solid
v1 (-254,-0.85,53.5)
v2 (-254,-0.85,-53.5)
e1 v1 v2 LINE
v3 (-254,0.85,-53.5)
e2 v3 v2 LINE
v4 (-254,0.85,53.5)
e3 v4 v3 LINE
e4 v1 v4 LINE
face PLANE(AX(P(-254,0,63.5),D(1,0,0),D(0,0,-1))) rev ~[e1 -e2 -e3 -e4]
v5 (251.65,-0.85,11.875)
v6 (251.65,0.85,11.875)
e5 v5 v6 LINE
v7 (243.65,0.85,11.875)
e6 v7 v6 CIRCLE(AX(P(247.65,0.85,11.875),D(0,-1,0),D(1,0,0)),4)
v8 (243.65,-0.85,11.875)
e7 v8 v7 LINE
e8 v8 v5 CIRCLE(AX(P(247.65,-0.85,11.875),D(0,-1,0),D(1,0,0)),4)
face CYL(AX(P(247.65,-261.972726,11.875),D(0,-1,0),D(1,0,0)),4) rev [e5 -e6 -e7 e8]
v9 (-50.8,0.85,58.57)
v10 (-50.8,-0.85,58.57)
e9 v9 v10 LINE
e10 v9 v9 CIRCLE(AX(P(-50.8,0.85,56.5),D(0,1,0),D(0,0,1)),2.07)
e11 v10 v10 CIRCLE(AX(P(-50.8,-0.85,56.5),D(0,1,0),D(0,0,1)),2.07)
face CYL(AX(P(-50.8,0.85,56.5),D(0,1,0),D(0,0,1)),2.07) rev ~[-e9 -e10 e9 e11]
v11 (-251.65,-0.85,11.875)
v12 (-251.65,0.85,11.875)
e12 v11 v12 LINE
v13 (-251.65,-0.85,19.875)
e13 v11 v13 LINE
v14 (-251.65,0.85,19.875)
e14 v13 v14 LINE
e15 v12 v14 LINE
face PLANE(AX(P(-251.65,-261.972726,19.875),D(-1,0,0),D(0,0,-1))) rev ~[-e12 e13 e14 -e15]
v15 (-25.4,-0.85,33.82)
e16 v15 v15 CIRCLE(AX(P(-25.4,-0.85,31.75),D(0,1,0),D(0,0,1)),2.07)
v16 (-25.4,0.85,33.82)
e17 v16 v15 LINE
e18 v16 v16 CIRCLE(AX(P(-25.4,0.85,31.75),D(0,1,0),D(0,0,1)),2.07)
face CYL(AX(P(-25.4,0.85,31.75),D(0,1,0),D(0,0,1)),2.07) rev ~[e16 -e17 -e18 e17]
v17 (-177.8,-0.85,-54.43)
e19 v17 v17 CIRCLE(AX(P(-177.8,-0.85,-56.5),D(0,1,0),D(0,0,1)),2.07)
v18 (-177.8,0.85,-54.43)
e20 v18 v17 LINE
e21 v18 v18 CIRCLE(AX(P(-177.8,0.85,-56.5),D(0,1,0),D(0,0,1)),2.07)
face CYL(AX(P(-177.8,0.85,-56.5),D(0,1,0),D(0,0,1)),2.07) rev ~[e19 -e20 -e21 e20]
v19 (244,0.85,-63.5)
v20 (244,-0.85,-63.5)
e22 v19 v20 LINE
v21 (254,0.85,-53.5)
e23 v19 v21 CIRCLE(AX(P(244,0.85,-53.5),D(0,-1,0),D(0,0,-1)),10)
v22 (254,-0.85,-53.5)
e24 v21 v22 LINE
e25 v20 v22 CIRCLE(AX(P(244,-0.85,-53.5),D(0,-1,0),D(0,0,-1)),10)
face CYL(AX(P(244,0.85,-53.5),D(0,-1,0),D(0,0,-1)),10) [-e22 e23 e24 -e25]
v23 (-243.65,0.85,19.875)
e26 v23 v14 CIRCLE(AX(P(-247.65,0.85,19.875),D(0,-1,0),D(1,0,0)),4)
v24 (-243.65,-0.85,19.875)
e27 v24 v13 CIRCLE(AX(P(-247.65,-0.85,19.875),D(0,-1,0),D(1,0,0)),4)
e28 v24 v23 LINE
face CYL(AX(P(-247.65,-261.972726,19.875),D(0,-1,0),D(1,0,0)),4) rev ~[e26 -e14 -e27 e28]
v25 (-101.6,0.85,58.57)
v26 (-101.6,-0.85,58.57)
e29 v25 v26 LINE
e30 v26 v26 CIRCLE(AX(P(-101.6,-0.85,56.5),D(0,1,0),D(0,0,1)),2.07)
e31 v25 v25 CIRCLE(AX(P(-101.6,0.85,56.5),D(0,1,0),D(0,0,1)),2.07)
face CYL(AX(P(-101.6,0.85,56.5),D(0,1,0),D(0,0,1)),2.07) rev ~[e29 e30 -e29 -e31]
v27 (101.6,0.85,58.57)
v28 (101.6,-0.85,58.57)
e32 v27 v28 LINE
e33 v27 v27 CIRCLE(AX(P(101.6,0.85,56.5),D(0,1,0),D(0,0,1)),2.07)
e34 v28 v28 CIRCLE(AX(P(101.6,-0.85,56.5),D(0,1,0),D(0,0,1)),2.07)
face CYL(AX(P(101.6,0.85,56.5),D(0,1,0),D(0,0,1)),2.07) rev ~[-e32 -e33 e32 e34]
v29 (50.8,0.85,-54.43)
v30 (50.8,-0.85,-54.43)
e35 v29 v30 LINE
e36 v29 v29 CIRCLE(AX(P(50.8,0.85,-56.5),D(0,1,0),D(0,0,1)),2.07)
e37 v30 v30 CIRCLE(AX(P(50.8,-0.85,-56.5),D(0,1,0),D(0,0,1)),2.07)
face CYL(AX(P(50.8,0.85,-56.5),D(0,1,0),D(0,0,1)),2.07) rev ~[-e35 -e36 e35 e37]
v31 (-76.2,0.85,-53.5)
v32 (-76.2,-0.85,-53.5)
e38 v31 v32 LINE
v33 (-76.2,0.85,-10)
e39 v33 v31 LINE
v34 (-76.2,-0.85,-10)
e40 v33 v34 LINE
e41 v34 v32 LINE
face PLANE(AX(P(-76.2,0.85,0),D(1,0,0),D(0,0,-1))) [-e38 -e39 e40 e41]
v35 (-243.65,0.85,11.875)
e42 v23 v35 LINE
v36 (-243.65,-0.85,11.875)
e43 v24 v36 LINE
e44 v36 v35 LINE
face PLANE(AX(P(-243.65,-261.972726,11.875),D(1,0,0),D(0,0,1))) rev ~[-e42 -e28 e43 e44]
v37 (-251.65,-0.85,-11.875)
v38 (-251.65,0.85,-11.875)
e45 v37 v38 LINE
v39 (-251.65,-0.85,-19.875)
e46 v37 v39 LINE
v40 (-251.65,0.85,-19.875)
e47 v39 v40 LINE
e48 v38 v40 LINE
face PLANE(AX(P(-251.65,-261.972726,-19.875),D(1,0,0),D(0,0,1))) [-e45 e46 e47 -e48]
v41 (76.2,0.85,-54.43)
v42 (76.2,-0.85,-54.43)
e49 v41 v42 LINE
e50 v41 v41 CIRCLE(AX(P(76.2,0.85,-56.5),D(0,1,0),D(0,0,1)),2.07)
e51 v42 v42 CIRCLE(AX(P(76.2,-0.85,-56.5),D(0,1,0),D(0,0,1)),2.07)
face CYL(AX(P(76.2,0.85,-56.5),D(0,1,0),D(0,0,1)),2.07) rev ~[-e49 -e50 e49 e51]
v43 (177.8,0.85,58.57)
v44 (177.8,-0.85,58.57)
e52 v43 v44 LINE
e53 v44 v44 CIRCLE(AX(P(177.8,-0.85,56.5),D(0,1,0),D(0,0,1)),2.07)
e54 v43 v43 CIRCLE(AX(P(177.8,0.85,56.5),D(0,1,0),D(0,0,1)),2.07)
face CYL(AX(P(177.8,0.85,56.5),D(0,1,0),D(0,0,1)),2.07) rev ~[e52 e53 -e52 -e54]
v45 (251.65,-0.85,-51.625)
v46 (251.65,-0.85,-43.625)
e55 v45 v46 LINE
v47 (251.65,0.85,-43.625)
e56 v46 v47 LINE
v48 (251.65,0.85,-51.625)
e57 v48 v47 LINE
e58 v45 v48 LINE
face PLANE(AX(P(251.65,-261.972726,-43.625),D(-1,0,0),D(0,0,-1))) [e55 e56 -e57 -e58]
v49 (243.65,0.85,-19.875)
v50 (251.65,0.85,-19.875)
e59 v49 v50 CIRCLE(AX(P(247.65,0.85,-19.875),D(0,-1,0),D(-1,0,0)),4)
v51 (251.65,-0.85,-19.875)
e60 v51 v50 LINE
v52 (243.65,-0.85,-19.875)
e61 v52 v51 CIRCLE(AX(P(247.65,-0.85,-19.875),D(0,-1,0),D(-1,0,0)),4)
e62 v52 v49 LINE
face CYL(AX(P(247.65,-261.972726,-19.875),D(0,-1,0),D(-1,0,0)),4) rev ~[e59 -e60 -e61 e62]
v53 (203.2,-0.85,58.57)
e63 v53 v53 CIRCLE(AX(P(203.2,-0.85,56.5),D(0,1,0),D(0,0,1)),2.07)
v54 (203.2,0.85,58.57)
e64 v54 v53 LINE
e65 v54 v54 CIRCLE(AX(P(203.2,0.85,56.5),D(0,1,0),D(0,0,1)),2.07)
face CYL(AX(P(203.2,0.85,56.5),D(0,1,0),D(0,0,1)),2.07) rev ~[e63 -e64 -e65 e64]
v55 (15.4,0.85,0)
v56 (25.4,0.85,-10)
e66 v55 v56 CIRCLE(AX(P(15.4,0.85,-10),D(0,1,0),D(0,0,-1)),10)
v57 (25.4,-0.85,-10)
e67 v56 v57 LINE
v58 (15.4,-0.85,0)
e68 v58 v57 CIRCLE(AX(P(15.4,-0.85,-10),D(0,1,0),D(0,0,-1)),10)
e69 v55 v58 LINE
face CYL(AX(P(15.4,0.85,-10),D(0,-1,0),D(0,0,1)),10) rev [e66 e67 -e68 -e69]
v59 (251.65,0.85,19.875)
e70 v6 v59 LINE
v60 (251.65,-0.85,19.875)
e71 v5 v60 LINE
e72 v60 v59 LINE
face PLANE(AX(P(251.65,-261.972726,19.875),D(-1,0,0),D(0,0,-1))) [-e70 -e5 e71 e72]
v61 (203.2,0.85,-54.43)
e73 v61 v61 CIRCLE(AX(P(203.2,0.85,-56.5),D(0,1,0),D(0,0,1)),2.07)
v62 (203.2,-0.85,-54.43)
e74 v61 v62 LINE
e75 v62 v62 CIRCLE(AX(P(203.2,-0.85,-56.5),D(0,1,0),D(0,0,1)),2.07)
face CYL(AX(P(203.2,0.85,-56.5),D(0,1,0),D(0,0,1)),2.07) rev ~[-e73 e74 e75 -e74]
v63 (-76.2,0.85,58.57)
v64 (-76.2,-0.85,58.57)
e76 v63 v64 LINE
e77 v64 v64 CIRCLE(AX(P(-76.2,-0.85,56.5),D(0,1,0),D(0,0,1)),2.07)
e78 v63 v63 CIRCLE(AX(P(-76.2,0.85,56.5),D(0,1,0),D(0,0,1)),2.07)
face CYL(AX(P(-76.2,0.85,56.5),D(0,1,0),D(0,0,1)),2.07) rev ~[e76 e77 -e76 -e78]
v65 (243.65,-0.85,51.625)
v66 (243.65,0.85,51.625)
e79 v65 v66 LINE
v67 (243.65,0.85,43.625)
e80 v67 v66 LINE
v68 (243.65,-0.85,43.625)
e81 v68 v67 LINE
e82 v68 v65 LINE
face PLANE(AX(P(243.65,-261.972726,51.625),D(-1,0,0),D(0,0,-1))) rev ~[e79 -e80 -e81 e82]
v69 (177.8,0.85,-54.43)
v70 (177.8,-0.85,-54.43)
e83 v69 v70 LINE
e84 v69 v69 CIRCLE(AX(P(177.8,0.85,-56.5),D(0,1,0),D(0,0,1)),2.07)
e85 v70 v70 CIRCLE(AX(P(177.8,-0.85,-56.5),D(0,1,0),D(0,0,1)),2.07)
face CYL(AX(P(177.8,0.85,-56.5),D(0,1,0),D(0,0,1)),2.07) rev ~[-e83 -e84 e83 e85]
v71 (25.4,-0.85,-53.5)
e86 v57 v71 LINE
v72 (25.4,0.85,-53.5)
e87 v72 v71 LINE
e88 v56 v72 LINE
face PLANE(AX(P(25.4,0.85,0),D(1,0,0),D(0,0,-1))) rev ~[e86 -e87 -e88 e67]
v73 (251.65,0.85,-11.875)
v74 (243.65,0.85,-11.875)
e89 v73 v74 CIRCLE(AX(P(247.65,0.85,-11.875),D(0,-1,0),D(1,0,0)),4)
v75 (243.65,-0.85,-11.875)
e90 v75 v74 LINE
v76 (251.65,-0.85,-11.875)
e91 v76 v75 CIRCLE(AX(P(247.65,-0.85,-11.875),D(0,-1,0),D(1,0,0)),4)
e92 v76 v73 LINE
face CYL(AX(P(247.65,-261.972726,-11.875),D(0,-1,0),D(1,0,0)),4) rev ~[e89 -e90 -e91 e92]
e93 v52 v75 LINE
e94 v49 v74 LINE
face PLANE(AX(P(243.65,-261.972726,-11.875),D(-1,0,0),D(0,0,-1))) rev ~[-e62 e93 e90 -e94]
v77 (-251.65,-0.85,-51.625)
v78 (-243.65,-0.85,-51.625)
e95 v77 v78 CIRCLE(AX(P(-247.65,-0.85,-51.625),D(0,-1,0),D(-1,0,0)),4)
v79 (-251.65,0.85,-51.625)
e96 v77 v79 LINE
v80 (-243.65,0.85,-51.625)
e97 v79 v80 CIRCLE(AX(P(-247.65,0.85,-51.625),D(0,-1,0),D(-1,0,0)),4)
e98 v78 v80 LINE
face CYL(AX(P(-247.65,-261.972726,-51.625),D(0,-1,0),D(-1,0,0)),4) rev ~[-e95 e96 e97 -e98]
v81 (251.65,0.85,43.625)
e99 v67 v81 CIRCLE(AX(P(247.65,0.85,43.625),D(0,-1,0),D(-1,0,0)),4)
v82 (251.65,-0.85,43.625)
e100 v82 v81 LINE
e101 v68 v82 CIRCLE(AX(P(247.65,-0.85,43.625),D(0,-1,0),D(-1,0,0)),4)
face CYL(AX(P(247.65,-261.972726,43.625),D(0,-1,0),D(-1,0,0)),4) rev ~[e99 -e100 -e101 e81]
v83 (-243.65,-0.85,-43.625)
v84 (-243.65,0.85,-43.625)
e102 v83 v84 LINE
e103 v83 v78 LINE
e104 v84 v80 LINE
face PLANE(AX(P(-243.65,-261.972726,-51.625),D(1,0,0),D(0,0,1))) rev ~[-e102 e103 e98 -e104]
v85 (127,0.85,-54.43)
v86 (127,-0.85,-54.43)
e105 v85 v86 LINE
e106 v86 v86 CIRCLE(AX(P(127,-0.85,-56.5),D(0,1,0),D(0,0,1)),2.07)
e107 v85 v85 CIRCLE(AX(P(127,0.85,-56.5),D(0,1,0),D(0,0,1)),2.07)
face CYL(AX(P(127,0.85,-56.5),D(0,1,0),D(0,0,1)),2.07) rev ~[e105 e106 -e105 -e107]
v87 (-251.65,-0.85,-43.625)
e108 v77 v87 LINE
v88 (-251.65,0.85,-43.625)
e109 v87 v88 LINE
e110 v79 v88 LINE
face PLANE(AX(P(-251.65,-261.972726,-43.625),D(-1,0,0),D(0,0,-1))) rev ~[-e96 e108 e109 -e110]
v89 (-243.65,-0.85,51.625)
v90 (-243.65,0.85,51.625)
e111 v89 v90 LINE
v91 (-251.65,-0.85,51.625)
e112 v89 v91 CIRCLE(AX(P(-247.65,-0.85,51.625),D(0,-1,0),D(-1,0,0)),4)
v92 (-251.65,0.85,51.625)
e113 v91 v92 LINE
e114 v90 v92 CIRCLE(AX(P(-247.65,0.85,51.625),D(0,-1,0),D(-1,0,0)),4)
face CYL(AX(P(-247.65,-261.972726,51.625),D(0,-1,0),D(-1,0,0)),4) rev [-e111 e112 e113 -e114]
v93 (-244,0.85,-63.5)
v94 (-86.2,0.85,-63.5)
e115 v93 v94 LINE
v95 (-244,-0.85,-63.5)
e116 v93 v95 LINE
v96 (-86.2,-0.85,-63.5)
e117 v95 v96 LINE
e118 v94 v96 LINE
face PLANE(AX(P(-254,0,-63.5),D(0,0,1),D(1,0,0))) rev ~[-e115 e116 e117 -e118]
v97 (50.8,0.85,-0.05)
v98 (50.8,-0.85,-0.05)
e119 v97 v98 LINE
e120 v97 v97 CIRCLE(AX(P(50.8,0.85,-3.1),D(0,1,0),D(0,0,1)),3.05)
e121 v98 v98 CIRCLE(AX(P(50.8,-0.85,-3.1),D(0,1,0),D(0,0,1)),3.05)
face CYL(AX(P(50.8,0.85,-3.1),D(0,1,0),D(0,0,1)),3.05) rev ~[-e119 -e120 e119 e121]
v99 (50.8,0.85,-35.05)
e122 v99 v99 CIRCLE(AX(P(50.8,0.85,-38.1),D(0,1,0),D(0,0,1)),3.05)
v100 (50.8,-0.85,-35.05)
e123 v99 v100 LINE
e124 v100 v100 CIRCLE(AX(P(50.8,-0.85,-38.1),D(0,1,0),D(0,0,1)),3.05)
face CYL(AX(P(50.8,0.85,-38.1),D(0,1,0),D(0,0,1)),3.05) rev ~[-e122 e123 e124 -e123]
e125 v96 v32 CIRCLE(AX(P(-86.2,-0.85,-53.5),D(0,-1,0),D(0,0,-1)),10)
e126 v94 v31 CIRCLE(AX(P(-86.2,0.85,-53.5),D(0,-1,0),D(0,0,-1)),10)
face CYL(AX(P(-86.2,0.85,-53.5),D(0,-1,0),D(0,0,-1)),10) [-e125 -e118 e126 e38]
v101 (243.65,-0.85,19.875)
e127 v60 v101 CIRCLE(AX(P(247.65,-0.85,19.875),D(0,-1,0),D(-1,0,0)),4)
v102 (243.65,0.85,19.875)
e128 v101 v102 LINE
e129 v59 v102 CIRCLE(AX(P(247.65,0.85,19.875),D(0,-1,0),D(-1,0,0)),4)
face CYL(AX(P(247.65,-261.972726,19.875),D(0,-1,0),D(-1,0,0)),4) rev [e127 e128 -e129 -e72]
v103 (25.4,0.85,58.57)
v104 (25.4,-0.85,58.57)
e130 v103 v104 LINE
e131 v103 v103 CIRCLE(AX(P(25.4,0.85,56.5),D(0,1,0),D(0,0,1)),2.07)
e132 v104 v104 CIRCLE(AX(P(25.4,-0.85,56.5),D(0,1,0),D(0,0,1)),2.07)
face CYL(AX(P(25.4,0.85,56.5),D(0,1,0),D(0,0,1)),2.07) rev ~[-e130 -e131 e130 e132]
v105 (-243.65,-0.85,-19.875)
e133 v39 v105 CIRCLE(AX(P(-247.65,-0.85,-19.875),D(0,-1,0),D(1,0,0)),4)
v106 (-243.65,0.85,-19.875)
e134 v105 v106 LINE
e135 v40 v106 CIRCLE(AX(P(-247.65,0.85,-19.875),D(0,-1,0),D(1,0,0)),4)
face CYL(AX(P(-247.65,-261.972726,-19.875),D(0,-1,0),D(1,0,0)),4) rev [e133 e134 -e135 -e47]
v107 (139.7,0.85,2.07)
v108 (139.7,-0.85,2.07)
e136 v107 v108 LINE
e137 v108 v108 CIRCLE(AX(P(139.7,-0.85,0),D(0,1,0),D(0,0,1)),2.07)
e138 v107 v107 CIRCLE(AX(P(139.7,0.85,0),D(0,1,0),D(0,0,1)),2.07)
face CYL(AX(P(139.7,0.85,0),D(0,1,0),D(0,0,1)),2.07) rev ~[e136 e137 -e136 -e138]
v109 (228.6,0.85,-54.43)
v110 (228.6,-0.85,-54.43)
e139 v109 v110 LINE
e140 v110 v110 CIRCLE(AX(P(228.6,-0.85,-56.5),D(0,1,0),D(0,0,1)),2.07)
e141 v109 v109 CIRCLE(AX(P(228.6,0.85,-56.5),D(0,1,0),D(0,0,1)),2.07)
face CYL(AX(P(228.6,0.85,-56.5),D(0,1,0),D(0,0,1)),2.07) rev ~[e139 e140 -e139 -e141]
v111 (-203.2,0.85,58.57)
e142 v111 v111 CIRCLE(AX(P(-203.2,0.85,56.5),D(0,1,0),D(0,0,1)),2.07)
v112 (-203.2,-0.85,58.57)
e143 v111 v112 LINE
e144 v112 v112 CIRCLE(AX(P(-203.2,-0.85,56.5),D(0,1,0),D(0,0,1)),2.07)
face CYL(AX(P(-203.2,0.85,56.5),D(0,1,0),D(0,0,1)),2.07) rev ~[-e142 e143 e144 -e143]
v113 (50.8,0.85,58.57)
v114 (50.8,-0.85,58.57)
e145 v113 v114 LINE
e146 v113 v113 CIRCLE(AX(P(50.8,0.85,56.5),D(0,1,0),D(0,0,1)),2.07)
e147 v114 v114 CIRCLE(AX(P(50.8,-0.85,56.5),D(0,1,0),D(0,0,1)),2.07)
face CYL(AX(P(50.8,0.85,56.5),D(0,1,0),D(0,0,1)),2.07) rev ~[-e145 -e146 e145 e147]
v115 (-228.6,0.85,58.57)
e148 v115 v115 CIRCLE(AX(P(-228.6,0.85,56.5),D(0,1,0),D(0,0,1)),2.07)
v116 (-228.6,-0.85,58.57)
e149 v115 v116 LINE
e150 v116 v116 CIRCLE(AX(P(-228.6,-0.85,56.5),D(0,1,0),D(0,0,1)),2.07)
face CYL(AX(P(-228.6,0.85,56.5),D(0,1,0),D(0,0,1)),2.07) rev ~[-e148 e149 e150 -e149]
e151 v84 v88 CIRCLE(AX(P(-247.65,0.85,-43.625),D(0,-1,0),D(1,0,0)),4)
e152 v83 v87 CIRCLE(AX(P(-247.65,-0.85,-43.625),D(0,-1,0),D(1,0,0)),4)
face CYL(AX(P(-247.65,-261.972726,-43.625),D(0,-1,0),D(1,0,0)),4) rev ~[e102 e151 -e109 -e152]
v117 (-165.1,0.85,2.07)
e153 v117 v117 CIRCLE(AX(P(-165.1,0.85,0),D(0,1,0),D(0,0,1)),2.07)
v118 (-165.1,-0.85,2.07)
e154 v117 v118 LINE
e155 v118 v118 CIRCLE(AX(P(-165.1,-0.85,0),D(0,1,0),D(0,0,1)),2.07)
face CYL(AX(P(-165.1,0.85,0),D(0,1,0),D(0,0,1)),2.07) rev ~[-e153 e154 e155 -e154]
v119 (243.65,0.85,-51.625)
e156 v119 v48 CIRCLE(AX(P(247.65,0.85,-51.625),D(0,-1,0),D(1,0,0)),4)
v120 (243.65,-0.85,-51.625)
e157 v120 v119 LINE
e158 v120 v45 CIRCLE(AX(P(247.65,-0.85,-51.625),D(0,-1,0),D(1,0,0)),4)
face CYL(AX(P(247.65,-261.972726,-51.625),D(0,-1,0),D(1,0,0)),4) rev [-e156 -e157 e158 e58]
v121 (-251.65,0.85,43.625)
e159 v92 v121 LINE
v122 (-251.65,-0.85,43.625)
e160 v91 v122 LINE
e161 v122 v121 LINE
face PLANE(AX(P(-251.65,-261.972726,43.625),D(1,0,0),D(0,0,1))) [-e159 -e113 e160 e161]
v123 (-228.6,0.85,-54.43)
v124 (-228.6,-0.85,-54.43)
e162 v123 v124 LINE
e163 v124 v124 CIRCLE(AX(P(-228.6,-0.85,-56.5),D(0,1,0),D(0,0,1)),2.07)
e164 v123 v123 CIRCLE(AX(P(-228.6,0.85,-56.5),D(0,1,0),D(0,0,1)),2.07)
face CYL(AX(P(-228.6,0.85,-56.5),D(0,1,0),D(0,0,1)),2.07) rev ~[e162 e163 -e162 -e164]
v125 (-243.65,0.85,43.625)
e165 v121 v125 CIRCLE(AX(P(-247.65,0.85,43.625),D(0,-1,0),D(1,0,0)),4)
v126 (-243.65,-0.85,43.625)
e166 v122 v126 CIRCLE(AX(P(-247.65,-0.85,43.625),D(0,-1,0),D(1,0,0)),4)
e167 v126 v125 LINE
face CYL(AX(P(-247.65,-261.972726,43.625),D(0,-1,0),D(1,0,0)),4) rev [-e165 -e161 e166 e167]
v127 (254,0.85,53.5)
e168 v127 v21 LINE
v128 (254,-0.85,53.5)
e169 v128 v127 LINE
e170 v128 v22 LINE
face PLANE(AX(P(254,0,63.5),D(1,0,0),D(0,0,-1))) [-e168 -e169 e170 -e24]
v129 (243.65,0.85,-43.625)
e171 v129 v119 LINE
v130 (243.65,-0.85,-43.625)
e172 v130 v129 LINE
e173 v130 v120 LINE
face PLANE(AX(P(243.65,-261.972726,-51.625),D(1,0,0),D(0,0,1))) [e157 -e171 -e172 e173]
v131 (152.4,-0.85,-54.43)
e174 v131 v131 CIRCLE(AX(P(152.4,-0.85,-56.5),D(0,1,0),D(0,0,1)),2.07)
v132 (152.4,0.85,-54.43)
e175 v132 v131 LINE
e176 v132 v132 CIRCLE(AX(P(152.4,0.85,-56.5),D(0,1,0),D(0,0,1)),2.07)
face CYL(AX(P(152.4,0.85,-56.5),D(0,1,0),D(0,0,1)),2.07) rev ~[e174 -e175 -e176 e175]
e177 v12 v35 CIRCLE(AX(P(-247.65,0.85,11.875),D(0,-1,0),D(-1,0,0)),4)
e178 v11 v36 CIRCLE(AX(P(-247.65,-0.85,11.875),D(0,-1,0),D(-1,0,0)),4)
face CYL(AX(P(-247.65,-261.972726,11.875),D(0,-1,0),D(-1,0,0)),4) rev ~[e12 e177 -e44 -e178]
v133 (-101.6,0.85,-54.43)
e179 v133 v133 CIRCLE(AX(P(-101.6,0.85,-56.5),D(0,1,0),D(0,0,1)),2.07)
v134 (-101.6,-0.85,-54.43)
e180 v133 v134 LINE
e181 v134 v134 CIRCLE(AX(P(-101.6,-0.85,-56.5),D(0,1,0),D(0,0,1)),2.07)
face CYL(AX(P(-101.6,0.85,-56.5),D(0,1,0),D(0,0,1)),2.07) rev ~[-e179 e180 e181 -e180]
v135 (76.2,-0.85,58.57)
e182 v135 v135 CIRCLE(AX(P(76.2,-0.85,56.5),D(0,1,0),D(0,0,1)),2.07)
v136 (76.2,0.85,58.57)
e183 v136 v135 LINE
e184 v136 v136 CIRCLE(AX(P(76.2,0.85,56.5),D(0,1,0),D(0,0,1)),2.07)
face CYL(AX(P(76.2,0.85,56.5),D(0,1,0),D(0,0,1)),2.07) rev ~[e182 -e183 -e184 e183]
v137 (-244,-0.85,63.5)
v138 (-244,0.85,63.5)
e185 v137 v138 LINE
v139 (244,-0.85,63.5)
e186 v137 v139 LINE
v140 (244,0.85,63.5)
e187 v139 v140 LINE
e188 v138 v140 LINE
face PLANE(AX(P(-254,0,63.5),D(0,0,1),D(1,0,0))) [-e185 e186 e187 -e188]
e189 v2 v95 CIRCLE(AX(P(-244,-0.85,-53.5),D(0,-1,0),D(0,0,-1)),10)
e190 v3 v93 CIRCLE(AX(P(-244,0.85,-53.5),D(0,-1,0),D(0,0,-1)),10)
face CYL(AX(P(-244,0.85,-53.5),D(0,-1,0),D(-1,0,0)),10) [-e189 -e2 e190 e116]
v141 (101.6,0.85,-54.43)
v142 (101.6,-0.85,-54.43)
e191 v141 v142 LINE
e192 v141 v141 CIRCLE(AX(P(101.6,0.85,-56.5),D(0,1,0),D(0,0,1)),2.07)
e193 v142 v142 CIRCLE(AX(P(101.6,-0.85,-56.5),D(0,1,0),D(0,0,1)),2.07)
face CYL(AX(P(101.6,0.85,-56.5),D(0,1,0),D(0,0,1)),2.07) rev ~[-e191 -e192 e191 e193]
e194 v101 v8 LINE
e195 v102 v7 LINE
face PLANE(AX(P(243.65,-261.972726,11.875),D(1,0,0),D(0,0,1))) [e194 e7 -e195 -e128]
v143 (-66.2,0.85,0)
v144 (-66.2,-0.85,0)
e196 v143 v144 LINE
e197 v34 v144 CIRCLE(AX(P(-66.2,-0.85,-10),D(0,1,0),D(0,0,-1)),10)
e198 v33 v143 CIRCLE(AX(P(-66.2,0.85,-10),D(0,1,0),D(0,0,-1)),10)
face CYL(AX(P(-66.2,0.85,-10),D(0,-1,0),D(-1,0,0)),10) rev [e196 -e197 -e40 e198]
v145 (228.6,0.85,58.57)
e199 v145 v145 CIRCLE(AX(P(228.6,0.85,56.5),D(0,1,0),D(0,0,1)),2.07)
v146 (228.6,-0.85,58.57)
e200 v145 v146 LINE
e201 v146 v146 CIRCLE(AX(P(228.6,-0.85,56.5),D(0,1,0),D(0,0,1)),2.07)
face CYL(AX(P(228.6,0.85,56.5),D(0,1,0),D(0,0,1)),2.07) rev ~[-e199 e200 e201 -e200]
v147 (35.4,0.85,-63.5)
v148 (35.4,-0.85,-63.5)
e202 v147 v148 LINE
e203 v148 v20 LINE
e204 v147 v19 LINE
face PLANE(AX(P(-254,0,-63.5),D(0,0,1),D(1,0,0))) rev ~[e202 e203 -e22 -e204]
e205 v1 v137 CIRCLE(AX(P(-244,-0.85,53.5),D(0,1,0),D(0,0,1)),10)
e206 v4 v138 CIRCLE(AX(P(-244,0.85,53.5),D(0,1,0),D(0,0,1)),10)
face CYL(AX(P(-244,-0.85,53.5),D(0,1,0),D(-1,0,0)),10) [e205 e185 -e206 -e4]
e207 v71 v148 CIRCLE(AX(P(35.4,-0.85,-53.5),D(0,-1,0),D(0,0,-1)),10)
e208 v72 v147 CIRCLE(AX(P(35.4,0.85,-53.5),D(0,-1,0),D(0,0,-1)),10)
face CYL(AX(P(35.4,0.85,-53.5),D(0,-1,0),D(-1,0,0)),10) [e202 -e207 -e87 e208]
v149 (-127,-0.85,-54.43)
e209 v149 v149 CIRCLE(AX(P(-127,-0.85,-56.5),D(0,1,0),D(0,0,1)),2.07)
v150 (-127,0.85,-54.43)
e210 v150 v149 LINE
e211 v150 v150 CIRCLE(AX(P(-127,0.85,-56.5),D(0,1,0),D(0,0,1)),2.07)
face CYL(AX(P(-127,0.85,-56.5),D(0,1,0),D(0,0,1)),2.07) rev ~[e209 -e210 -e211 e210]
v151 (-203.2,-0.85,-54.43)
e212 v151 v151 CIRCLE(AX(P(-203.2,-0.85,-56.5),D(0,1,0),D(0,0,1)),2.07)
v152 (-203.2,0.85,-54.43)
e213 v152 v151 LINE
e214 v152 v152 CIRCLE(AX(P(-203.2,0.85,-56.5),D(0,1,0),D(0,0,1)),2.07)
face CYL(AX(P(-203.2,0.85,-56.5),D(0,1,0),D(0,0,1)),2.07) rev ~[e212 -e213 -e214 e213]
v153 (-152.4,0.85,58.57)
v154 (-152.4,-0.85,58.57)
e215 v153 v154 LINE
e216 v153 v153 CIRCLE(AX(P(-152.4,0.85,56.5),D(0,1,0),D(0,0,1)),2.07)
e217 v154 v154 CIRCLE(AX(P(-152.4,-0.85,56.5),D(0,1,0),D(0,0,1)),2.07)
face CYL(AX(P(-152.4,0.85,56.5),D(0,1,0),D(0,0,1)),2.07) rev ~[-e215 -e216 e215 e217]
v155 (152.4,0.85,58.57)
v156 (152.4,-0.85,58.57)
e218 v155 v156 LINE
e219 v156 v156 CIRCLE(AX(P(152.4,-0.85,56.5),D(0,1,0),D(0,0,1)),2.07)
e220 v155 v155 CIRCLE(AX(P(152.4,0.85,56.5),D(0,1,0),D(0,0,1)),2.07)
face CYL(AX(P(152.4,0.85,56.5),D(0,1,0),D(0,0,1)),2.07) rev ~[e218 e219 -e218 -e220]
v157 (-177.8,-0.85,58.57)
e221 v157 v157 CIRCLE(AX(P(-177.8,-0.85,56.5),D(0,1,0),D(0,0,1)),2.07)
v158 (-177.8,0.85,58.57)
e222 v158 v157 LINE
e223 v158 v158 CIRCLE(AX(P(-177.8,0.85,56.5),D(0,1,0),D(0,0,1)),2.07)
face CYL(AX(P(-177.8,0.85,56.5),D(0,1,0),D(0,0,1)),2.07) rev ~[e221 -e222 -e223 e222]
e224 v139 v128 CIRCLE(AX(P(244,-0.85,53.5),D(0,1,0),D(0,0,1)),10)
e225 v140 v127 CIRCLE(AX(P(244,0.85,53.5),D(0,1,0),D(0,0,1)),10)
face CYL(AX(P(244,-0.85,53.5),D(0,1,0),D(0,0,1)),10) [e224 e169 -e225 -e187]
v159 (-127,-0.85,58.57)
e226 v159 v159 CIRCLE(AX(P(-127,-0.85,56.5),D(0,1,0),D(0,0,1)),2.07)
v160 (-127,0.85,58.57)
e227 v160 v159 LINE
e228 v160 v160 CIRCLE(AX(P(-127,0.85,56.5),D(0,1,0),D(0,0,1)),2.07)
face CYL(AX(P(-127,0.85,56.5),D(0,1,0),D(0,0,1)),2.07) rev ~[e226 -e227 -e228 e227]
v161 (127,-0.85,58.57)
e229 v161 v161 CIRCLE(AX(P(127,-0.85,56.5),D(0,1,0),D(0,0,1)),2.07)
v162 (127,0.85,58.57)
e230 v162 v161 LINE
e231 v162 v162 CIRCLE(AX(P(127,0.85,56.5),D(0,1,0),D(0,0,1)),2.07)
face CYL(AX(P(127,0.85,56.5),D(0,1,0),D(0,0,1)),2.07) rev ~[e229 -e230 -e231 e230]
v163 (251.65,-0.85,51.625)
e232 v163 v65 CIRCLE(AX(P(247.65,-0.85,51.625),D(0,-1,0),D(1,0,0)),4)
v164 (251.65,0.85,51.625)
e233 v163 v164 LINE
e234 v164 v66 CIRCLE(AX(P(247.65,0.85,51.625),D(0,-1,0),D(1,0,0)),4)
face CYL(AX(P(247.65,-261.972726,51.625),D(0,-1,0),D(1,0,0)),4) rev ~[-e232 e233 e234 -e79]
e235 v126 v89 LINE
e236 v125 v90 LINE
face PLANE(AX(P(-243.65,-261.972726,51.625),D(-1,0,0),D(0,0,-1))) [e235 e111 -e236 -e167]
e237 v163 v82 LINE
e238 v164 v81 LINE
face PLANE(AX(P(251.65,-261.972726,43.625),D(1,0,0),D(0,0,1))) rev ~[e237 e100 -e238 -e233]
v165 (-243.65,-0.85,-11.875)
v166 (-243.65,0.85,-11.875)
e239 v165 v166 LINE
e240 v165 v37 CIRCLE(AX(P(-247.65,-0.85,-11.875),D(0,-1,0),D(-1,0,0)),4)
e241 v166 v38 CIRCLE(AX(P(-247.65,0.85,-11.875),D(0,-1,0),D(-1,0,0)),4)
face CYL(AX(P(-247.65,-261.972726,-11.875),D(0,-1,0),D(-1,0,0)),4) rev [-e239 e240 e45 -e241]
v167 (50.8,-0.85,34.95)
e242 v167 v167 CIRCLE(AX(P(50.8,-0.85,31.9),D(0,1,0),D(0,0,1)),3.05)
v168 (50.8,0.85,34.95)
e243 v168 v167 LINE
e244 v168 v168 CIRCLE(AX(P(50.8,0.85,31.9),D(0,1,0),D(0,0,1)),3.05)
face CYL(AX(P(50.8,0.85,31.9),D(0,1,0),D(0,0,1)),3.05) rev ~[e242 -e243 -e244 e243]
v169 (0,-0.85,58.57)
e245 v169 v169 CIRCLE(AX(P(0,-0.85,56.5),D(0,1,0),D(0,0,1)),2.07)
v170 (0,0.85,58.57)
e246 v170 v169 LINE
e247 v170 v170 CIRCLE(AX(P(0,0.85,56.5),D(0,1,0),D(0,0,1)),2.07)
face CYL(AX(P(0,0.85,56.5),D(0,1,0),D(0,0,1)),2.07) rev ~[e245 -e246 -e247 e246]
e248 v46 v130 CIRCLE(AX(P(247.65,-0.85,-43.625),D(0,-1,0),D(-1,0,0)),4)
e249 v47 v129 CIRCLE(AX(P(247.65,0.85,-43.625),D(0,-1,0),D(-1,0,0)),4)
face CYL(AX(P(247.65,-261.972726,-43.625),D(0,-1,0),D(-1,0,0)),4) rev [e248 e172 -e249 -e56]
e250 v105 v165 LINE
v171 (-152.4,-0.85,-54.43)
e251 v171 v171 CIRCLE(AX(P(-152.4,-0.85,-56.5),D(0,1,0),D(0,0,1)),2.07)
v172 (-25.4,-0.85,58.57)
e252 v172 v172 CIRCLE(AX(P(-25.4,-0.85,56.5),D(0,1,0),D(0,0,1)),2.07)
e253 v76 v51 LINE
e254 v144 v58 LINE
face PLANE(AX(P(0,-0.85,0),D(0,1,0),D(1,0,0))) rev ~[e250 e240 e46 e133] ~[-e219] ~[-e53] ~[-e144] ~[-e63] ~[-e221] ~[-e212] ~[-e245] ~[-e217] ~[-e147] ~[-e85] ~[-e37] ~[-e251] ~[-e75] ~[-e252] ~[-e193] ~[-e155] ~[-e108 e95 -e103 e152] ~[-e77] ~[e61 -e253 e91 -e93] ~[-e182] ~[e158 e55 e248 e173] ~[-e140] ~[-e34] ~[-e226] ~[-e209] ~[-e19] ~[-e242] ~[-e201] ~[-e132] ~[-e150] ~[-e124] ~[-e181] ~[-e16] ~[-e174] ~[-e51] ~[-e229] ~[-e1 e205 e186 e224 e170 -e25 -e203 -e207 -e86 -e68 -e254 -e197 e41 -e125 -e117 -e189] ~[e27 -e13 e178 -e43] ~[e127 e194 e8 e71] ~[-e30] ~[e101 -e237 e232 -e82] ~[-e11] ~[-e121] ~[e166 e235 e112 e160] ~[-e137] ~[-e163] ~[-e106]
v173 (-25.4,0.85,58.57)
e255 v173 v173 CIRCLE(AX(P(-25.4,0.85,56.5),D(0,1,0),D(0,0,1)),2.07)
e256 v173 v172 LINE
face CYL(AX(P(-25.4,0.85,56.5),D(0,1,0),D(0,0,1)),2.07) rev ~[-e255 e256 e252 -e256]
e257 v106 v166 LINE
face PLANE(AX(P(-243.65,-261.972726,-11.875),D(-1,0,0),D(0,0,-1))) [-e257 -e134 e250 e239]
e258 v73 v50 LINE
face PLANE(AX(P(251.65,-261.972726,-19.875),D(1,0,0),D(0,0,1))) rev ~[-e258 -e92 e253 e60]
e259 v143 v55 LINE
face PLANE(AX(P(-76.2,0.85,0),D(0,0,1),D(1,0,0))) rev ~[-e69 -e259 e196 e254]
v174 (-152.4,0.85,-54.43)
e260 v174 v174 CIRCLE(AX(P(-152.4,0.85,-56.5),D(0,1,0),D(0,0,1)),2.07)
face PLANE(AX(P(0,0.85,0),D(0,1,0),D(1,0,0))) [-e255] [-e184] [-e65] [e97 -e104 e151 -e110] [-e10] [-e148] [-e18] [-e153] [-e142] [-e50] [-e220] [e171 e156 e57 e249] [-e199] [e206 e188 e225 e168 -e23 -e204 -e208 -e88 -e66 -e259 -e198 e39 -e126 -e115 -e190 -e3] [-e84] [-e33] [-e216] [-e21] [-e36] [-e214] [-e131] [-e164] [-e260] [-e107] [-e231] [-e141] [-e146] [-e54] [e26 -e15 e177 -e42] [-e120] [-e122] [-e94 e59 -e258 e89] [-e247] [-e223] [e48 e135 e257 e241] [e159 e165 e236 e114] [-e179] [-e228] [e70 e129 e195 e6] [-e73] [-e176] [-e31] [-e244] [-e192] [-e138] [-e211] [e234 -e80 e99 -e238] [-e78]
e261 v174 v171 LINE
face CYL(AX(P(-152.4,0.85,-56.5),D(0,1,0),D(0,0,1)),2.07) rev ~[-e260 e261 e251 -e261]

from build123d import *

# Parameters (mm, degrees)
SKETCH1_W               = 508
SKETCH1_H               = 127
BOSS_EXTRUDE1_DEPTH     = 0.85
CUT_EXTRUDE1_DEPTH      = 262.822726286
CUT_EXTRUDE1_DEPTH_BACK = 262.822726286
FILLET1_R               = 10
SKETCH3_W               = 101.6
SKETCH3_H               = 63.5
CUT_EXTRUDE2_DEPTH      = 262.822726286
FILLET2_R               = 10
SKETCH8_R               = 2.07
CUT_EXTRUDE3_DEPTH      = 1.7
SKETCH12_R              = 3.05
CUT_EXTRUDE4_DEPTH      = 262.822726286


with BuildPart() as part:
    # Sketch1 → Boss-Extrude1 (new, symmetric)
    with BuildSketch(Plane(origin=(0, 0, 0), x_dir=(1, 0, 0), z_dir=(0, 1, 0))):
        Rectangle(SKETCH1_W, SKETCH1_H)
    extrude(amount=BOSS_EXTRUDE1_DEPTH, both=True)

    # Sketch2 → Cut-Extrude1 (cut, two sides: drawn at the far end of the back side and taken through both)
    with BuildSketch(Plane(origin=(0, 0.85, 0), x_dir=(1, 0, 0), z_dir=(0, 1, 0)).offset(-CUT_EXTRUDE1_DEPTH_BACK)):
        with BuildLine():
            Line((251.65, -43.625), (251.65, -51.625))
            ThreePointArc((251.65, -51.625), (247.65, -55.625), (243.65, -51.625))
            Line((243.65, -51.625), (243.65, -43.625))
            ThreePointArc((243.65, -43.625), (247.65, -39.625), (251.65, -43.625))
        make_face()
        with BuildLine():
            Line((251.65, -19.875), (251.65, -11.875))
            ThreePointArc((251.65, -11.875), (247.65, -7.875), (243.65, -11.875))
            Line((243.65, -11.875), (243.65, -19.875))
            ThreePointArc((243.65, -19.875), (247.65, -23.875), (251.65, -19.875))
        make_face()
        with BuildLine():
            Line((251.65, 19.875), (251.65, 11.875))
            ThreePointArc((251.65, 11.875), (247.65, 7.875), (243.65, 11.875))
            Line((243.65, 11.875), (243.65, 19.875))
            ThreePointArc((243.65, 19.875), (247.65, 23.875), (251.65, 19.875))
        make_face()
        with BuildLine():
            Line((251.65, 43.625), (251.65, 51.625))
            ThreePointArc((251.65, 51.625), (247.65, 55.625), (243.65, 51.625))
            Line((243.65, 51.625), (243.65, 43.625))
            ThreePointArc((243.65, 43.625), (247.65, 39.625), (251.65, 43.625))
        make_face()
        with BuildLine():
            Line((-251.65, 43.625), (-251.65, 51.625))
            ThreePointArc((-251.65, 51.625), (-247.65, 55.625), (-243.65, 51.625))
            Line((-243.65, 51.625), (-243.65, 43.625))
            ThreePointArc((-243.65, 43.625), (-247.65, 39.625), (-251.65, 43.625))
        make_face()
        with BuildLine():
            Line((-251.65, 19.875), (-251.65, 11.875))
            ThreePointArc((-251.65, 11.875), (-247.65, 7.875), (-243.65, 11.875))
            Line((-243.65, 11.875), (-243.65, 19.875))
            ThreePointArc((-243.65, 19.875), (-247.65, 23.875), (-251.65, 19.875))
        make_face()
        with BuildLine():
            Line((-251.65, -19.875), (-251.65, -11.875))
            ThreePointArc((-251.65, -11.875), (-247.65, -7.875), (-243.65, -11.875))
            Line((-243.65, -11.875), (-243.65, -19.875))
            ThreePointArc((-243.65, -19.875), (-247.65, -23.875), (-251.65, -19.875))
        make_face()
        with BuildLine():
            Line((-251.65, -43.625), (-251.65, -51.625))
            ThreePointArc((-251.65, -51.625), (-247.65, -55.625), (-243.65, -51.625))
            Line((-243.65, -51.625), (-243.65, -43.625))
            ThreePointArc((-243.65, -43.625), (-247.65, -39.625), (-251.65, -43.625))
        make_face()
    extrude(amount=CUT_EXTRUDE1_DEPTH + CUT_EXTRUDE1_DEPTH_BACK, mode=Mode.SUBTRACT)

    # Fillet1
    fillet1_edges = [part.edges().sort_by_distance(p)[0] for p in [
        (-254, 0, -63.5),
        (254, 0, -63.5),
        (254, 0, 63.5),
        (-254, 0, 63.5),
    ]]
    fillet(fillet1_edges, radius=FILLET1_R)

    # Sketch3 → Cut-Extrude2 (cut, through all)
    with BuildSketch(Plane(origin=(0, 0.85, 0), x_dir=(1, 0, 0), z_dir=(0, 1, 0))):
        with Locations((-25.4, 31.75)):
            Rectangle(SKETCH3_W, SKETCH3_H)
    extrude(amount=-CUT_EXTRUDE2_DEPTH, mode=Mode.SUBTRACT)

    # Fillet2
    fillet2_edges = [part.edges().sort_by_distance(p)[0] for p in [
        (-76.2, 0, 0),
        (-76.2, 0, -63.5),
        (25.4, 0, -63.5),
        (25.4, 0, 0),
    ]]
    fillet(fillet2_edges, radius=FILLET2_R)

    # Sketch8 → Cut-Extrude3 (cut)
    with BuildSketch(Plane(origin=(0, 0.85, 0), x_dir=(1, 0, 0), z_dir=(0, 1, 0))):
        with Locations(Location((-165.1, 0, 0), (0, 0, 270))):
            Circle(SKETCH8_R)
        with Locations(Location((-25.4, -31.75, 0), (0, 0, 270))):
            Circle(SKETCH8_R)
        with Locations(Location((139.7, 0, 0), (0, 0, 270))):
            Circle(SKETCH8_R)
        with Locations(Location((-228.6, -56.5, 0), (0, 0, 270))):
            Circle(SKETCH8_R)
        with Locations(Location((-203.2, -56.5, 0), (0, 0, 270))):
            Circle(SKETCH8_R)
        with Locations(Location((-177.8, -56.5, 0), (0, 0, 270))):
            Circle(SKETCH8_R)
        with Locations(Location((-152.4, -56.5, 0), (0, 0, 270))):
            Circle(SKETCH8_R)
        with Locations(Location((-127, -56.5, 0), (0, 0, 270))):
            Circle(SKETCH8_R)
        with Locations(Location((-101.6, -56.5, 0), (0, 0, 270))):
            Circle(SKETCH8_R)
        with Locations(Location((-76.2, -56.5, 0), (0, 0, 270))):
            Circle(SKETCH8_R)
        with Locations(Location((-50.8, -56.5, 0), (0, 0, 270))):
            Circle(SKETCH8_R)
        with Locations(Location((-25.4, -56.5, 0), (0, 0, 270))):
            Circle(SKETCH8_R)
        with Locations(Location((0, -56.5, 0), (0, 0, 270))):
            Circle(SKETCH8_R)
        with Locations(Location((25.4, -56.5, 0), (0, 0, 270))):
            Circle(SKETCH8_R)
        with Locations(Location((50.8, -56.5, 0), (0, 0, 270))):
            Circle(SKETCH8_R)
        with Locations(Location((76.2, -56.5, 0), (0, 0, 270))):
            Circle(SKETCH8_R)
        with Locations(Location((101.6, -56.5, 0), (0, 0, 270))):
            Circle(SKETCH8_R)
        with Locations(Location((127, -56.5, 0), (0, 0, 270))):
            Circle(SKETCH8_R)
        with Locations(Location((152.4, -56.5, 0), (0, 0, 270))):
            Circle(SKETCH8_R)
        with Locations(Location((177.8, -56.5, 0), (0, 0, 270))):
            Circle(SKETCH8_R)
        with Locations(Location((203.2, -56.5, 0), (0, 0, 270))):
            Circle(SKETCH8_R)
        with Locations(Location((228.6, -56.5, 0), (0, 0, 270))):
            Circle(SKETCH8_R)
        with Locations(Location((-228.6, 56.5, 0), (0, 0, 270))):
            Circle(SKETCH8_R)
        with Locations(Location((-203.2, 56.5, 0), (0, 0, 270))):
            Circle(SKETCH8_R)
        with Locations(Location((-177.8, 56.5, 0), (0, 0, 270))):
            Circle(SKETCH8_R)
        with Locations(Location((-152.4, 56.5, 0), (0, 0, 270))):
            Circle(SKETCH8_R)
        with Locations(Location((-127, 56.5, 0), (0, 0, 270))):
            Circle(SKETCH8_R)
        with Locations(Location((-101.6, 56.5, 0), (0, 0, 270))):
            Circle(SKETCH8_R)
        with Locations(Location((50.8, 56.5, 0), (0, 0, 270))):
            Circle(SKETCH8_R)
        with Locations(Location((76.2, 56.5, 0), (0, 0, 270))):
            Circle(SKETCH8_R)
        with Locations(Location((101.6, 56.5, 0), (0, 0, 270))):
            Circle(SKETCH8_R)
        with Locations(Location((127, 56.5, 0), (0, 0, 270))):
            Circle(SKETCH8_R)
        with Locations(Location((152.4, 56.5, 0), (0, 0, 270))):
            Circle(SKETCH8_R)
        with Locations(Location((177.8, 56.5, 0), (0, 0, 270))):
            Circle(SKETCH8_R)
        with Locations(Location((203.2, 56.5, 0), (0, 0, 270))):
            Circle(SKETCH8_R)
        with Locations(Location((228.6, 56.5, 0), (0, 0, 270))):
            Circle(SKETCH8_R)
    extrude(amount=-CUT_EXTRUDE3_DEPTH, mode=Mode.SUBTRACT)

    # Sketch12 → Cut-Extrude4 (cut, through all)
    with BuildSketch(Plane(origin=(0, 0.85, 0), x_dir=(1, 0, 0), z_dir=(0, 1, 0))):
        with Locations(Location((50.8, 38.1, 0), (0, 0, 270))):
            Circle(SKETCH12_R)
        with Locations(Location((50.8, 3.1, 0), (0, 0, 270))):
            Circle(SKETCH12_R)
        with Locations(Location((50.8, -31.9, 0), (0, 0, 270))):
            Circle(SKETCH12_R)
    extrude(amount=-CUT_EXTRUDE4_DEPTH, mode=Mode.SUBTRACT)


solid = part.part
